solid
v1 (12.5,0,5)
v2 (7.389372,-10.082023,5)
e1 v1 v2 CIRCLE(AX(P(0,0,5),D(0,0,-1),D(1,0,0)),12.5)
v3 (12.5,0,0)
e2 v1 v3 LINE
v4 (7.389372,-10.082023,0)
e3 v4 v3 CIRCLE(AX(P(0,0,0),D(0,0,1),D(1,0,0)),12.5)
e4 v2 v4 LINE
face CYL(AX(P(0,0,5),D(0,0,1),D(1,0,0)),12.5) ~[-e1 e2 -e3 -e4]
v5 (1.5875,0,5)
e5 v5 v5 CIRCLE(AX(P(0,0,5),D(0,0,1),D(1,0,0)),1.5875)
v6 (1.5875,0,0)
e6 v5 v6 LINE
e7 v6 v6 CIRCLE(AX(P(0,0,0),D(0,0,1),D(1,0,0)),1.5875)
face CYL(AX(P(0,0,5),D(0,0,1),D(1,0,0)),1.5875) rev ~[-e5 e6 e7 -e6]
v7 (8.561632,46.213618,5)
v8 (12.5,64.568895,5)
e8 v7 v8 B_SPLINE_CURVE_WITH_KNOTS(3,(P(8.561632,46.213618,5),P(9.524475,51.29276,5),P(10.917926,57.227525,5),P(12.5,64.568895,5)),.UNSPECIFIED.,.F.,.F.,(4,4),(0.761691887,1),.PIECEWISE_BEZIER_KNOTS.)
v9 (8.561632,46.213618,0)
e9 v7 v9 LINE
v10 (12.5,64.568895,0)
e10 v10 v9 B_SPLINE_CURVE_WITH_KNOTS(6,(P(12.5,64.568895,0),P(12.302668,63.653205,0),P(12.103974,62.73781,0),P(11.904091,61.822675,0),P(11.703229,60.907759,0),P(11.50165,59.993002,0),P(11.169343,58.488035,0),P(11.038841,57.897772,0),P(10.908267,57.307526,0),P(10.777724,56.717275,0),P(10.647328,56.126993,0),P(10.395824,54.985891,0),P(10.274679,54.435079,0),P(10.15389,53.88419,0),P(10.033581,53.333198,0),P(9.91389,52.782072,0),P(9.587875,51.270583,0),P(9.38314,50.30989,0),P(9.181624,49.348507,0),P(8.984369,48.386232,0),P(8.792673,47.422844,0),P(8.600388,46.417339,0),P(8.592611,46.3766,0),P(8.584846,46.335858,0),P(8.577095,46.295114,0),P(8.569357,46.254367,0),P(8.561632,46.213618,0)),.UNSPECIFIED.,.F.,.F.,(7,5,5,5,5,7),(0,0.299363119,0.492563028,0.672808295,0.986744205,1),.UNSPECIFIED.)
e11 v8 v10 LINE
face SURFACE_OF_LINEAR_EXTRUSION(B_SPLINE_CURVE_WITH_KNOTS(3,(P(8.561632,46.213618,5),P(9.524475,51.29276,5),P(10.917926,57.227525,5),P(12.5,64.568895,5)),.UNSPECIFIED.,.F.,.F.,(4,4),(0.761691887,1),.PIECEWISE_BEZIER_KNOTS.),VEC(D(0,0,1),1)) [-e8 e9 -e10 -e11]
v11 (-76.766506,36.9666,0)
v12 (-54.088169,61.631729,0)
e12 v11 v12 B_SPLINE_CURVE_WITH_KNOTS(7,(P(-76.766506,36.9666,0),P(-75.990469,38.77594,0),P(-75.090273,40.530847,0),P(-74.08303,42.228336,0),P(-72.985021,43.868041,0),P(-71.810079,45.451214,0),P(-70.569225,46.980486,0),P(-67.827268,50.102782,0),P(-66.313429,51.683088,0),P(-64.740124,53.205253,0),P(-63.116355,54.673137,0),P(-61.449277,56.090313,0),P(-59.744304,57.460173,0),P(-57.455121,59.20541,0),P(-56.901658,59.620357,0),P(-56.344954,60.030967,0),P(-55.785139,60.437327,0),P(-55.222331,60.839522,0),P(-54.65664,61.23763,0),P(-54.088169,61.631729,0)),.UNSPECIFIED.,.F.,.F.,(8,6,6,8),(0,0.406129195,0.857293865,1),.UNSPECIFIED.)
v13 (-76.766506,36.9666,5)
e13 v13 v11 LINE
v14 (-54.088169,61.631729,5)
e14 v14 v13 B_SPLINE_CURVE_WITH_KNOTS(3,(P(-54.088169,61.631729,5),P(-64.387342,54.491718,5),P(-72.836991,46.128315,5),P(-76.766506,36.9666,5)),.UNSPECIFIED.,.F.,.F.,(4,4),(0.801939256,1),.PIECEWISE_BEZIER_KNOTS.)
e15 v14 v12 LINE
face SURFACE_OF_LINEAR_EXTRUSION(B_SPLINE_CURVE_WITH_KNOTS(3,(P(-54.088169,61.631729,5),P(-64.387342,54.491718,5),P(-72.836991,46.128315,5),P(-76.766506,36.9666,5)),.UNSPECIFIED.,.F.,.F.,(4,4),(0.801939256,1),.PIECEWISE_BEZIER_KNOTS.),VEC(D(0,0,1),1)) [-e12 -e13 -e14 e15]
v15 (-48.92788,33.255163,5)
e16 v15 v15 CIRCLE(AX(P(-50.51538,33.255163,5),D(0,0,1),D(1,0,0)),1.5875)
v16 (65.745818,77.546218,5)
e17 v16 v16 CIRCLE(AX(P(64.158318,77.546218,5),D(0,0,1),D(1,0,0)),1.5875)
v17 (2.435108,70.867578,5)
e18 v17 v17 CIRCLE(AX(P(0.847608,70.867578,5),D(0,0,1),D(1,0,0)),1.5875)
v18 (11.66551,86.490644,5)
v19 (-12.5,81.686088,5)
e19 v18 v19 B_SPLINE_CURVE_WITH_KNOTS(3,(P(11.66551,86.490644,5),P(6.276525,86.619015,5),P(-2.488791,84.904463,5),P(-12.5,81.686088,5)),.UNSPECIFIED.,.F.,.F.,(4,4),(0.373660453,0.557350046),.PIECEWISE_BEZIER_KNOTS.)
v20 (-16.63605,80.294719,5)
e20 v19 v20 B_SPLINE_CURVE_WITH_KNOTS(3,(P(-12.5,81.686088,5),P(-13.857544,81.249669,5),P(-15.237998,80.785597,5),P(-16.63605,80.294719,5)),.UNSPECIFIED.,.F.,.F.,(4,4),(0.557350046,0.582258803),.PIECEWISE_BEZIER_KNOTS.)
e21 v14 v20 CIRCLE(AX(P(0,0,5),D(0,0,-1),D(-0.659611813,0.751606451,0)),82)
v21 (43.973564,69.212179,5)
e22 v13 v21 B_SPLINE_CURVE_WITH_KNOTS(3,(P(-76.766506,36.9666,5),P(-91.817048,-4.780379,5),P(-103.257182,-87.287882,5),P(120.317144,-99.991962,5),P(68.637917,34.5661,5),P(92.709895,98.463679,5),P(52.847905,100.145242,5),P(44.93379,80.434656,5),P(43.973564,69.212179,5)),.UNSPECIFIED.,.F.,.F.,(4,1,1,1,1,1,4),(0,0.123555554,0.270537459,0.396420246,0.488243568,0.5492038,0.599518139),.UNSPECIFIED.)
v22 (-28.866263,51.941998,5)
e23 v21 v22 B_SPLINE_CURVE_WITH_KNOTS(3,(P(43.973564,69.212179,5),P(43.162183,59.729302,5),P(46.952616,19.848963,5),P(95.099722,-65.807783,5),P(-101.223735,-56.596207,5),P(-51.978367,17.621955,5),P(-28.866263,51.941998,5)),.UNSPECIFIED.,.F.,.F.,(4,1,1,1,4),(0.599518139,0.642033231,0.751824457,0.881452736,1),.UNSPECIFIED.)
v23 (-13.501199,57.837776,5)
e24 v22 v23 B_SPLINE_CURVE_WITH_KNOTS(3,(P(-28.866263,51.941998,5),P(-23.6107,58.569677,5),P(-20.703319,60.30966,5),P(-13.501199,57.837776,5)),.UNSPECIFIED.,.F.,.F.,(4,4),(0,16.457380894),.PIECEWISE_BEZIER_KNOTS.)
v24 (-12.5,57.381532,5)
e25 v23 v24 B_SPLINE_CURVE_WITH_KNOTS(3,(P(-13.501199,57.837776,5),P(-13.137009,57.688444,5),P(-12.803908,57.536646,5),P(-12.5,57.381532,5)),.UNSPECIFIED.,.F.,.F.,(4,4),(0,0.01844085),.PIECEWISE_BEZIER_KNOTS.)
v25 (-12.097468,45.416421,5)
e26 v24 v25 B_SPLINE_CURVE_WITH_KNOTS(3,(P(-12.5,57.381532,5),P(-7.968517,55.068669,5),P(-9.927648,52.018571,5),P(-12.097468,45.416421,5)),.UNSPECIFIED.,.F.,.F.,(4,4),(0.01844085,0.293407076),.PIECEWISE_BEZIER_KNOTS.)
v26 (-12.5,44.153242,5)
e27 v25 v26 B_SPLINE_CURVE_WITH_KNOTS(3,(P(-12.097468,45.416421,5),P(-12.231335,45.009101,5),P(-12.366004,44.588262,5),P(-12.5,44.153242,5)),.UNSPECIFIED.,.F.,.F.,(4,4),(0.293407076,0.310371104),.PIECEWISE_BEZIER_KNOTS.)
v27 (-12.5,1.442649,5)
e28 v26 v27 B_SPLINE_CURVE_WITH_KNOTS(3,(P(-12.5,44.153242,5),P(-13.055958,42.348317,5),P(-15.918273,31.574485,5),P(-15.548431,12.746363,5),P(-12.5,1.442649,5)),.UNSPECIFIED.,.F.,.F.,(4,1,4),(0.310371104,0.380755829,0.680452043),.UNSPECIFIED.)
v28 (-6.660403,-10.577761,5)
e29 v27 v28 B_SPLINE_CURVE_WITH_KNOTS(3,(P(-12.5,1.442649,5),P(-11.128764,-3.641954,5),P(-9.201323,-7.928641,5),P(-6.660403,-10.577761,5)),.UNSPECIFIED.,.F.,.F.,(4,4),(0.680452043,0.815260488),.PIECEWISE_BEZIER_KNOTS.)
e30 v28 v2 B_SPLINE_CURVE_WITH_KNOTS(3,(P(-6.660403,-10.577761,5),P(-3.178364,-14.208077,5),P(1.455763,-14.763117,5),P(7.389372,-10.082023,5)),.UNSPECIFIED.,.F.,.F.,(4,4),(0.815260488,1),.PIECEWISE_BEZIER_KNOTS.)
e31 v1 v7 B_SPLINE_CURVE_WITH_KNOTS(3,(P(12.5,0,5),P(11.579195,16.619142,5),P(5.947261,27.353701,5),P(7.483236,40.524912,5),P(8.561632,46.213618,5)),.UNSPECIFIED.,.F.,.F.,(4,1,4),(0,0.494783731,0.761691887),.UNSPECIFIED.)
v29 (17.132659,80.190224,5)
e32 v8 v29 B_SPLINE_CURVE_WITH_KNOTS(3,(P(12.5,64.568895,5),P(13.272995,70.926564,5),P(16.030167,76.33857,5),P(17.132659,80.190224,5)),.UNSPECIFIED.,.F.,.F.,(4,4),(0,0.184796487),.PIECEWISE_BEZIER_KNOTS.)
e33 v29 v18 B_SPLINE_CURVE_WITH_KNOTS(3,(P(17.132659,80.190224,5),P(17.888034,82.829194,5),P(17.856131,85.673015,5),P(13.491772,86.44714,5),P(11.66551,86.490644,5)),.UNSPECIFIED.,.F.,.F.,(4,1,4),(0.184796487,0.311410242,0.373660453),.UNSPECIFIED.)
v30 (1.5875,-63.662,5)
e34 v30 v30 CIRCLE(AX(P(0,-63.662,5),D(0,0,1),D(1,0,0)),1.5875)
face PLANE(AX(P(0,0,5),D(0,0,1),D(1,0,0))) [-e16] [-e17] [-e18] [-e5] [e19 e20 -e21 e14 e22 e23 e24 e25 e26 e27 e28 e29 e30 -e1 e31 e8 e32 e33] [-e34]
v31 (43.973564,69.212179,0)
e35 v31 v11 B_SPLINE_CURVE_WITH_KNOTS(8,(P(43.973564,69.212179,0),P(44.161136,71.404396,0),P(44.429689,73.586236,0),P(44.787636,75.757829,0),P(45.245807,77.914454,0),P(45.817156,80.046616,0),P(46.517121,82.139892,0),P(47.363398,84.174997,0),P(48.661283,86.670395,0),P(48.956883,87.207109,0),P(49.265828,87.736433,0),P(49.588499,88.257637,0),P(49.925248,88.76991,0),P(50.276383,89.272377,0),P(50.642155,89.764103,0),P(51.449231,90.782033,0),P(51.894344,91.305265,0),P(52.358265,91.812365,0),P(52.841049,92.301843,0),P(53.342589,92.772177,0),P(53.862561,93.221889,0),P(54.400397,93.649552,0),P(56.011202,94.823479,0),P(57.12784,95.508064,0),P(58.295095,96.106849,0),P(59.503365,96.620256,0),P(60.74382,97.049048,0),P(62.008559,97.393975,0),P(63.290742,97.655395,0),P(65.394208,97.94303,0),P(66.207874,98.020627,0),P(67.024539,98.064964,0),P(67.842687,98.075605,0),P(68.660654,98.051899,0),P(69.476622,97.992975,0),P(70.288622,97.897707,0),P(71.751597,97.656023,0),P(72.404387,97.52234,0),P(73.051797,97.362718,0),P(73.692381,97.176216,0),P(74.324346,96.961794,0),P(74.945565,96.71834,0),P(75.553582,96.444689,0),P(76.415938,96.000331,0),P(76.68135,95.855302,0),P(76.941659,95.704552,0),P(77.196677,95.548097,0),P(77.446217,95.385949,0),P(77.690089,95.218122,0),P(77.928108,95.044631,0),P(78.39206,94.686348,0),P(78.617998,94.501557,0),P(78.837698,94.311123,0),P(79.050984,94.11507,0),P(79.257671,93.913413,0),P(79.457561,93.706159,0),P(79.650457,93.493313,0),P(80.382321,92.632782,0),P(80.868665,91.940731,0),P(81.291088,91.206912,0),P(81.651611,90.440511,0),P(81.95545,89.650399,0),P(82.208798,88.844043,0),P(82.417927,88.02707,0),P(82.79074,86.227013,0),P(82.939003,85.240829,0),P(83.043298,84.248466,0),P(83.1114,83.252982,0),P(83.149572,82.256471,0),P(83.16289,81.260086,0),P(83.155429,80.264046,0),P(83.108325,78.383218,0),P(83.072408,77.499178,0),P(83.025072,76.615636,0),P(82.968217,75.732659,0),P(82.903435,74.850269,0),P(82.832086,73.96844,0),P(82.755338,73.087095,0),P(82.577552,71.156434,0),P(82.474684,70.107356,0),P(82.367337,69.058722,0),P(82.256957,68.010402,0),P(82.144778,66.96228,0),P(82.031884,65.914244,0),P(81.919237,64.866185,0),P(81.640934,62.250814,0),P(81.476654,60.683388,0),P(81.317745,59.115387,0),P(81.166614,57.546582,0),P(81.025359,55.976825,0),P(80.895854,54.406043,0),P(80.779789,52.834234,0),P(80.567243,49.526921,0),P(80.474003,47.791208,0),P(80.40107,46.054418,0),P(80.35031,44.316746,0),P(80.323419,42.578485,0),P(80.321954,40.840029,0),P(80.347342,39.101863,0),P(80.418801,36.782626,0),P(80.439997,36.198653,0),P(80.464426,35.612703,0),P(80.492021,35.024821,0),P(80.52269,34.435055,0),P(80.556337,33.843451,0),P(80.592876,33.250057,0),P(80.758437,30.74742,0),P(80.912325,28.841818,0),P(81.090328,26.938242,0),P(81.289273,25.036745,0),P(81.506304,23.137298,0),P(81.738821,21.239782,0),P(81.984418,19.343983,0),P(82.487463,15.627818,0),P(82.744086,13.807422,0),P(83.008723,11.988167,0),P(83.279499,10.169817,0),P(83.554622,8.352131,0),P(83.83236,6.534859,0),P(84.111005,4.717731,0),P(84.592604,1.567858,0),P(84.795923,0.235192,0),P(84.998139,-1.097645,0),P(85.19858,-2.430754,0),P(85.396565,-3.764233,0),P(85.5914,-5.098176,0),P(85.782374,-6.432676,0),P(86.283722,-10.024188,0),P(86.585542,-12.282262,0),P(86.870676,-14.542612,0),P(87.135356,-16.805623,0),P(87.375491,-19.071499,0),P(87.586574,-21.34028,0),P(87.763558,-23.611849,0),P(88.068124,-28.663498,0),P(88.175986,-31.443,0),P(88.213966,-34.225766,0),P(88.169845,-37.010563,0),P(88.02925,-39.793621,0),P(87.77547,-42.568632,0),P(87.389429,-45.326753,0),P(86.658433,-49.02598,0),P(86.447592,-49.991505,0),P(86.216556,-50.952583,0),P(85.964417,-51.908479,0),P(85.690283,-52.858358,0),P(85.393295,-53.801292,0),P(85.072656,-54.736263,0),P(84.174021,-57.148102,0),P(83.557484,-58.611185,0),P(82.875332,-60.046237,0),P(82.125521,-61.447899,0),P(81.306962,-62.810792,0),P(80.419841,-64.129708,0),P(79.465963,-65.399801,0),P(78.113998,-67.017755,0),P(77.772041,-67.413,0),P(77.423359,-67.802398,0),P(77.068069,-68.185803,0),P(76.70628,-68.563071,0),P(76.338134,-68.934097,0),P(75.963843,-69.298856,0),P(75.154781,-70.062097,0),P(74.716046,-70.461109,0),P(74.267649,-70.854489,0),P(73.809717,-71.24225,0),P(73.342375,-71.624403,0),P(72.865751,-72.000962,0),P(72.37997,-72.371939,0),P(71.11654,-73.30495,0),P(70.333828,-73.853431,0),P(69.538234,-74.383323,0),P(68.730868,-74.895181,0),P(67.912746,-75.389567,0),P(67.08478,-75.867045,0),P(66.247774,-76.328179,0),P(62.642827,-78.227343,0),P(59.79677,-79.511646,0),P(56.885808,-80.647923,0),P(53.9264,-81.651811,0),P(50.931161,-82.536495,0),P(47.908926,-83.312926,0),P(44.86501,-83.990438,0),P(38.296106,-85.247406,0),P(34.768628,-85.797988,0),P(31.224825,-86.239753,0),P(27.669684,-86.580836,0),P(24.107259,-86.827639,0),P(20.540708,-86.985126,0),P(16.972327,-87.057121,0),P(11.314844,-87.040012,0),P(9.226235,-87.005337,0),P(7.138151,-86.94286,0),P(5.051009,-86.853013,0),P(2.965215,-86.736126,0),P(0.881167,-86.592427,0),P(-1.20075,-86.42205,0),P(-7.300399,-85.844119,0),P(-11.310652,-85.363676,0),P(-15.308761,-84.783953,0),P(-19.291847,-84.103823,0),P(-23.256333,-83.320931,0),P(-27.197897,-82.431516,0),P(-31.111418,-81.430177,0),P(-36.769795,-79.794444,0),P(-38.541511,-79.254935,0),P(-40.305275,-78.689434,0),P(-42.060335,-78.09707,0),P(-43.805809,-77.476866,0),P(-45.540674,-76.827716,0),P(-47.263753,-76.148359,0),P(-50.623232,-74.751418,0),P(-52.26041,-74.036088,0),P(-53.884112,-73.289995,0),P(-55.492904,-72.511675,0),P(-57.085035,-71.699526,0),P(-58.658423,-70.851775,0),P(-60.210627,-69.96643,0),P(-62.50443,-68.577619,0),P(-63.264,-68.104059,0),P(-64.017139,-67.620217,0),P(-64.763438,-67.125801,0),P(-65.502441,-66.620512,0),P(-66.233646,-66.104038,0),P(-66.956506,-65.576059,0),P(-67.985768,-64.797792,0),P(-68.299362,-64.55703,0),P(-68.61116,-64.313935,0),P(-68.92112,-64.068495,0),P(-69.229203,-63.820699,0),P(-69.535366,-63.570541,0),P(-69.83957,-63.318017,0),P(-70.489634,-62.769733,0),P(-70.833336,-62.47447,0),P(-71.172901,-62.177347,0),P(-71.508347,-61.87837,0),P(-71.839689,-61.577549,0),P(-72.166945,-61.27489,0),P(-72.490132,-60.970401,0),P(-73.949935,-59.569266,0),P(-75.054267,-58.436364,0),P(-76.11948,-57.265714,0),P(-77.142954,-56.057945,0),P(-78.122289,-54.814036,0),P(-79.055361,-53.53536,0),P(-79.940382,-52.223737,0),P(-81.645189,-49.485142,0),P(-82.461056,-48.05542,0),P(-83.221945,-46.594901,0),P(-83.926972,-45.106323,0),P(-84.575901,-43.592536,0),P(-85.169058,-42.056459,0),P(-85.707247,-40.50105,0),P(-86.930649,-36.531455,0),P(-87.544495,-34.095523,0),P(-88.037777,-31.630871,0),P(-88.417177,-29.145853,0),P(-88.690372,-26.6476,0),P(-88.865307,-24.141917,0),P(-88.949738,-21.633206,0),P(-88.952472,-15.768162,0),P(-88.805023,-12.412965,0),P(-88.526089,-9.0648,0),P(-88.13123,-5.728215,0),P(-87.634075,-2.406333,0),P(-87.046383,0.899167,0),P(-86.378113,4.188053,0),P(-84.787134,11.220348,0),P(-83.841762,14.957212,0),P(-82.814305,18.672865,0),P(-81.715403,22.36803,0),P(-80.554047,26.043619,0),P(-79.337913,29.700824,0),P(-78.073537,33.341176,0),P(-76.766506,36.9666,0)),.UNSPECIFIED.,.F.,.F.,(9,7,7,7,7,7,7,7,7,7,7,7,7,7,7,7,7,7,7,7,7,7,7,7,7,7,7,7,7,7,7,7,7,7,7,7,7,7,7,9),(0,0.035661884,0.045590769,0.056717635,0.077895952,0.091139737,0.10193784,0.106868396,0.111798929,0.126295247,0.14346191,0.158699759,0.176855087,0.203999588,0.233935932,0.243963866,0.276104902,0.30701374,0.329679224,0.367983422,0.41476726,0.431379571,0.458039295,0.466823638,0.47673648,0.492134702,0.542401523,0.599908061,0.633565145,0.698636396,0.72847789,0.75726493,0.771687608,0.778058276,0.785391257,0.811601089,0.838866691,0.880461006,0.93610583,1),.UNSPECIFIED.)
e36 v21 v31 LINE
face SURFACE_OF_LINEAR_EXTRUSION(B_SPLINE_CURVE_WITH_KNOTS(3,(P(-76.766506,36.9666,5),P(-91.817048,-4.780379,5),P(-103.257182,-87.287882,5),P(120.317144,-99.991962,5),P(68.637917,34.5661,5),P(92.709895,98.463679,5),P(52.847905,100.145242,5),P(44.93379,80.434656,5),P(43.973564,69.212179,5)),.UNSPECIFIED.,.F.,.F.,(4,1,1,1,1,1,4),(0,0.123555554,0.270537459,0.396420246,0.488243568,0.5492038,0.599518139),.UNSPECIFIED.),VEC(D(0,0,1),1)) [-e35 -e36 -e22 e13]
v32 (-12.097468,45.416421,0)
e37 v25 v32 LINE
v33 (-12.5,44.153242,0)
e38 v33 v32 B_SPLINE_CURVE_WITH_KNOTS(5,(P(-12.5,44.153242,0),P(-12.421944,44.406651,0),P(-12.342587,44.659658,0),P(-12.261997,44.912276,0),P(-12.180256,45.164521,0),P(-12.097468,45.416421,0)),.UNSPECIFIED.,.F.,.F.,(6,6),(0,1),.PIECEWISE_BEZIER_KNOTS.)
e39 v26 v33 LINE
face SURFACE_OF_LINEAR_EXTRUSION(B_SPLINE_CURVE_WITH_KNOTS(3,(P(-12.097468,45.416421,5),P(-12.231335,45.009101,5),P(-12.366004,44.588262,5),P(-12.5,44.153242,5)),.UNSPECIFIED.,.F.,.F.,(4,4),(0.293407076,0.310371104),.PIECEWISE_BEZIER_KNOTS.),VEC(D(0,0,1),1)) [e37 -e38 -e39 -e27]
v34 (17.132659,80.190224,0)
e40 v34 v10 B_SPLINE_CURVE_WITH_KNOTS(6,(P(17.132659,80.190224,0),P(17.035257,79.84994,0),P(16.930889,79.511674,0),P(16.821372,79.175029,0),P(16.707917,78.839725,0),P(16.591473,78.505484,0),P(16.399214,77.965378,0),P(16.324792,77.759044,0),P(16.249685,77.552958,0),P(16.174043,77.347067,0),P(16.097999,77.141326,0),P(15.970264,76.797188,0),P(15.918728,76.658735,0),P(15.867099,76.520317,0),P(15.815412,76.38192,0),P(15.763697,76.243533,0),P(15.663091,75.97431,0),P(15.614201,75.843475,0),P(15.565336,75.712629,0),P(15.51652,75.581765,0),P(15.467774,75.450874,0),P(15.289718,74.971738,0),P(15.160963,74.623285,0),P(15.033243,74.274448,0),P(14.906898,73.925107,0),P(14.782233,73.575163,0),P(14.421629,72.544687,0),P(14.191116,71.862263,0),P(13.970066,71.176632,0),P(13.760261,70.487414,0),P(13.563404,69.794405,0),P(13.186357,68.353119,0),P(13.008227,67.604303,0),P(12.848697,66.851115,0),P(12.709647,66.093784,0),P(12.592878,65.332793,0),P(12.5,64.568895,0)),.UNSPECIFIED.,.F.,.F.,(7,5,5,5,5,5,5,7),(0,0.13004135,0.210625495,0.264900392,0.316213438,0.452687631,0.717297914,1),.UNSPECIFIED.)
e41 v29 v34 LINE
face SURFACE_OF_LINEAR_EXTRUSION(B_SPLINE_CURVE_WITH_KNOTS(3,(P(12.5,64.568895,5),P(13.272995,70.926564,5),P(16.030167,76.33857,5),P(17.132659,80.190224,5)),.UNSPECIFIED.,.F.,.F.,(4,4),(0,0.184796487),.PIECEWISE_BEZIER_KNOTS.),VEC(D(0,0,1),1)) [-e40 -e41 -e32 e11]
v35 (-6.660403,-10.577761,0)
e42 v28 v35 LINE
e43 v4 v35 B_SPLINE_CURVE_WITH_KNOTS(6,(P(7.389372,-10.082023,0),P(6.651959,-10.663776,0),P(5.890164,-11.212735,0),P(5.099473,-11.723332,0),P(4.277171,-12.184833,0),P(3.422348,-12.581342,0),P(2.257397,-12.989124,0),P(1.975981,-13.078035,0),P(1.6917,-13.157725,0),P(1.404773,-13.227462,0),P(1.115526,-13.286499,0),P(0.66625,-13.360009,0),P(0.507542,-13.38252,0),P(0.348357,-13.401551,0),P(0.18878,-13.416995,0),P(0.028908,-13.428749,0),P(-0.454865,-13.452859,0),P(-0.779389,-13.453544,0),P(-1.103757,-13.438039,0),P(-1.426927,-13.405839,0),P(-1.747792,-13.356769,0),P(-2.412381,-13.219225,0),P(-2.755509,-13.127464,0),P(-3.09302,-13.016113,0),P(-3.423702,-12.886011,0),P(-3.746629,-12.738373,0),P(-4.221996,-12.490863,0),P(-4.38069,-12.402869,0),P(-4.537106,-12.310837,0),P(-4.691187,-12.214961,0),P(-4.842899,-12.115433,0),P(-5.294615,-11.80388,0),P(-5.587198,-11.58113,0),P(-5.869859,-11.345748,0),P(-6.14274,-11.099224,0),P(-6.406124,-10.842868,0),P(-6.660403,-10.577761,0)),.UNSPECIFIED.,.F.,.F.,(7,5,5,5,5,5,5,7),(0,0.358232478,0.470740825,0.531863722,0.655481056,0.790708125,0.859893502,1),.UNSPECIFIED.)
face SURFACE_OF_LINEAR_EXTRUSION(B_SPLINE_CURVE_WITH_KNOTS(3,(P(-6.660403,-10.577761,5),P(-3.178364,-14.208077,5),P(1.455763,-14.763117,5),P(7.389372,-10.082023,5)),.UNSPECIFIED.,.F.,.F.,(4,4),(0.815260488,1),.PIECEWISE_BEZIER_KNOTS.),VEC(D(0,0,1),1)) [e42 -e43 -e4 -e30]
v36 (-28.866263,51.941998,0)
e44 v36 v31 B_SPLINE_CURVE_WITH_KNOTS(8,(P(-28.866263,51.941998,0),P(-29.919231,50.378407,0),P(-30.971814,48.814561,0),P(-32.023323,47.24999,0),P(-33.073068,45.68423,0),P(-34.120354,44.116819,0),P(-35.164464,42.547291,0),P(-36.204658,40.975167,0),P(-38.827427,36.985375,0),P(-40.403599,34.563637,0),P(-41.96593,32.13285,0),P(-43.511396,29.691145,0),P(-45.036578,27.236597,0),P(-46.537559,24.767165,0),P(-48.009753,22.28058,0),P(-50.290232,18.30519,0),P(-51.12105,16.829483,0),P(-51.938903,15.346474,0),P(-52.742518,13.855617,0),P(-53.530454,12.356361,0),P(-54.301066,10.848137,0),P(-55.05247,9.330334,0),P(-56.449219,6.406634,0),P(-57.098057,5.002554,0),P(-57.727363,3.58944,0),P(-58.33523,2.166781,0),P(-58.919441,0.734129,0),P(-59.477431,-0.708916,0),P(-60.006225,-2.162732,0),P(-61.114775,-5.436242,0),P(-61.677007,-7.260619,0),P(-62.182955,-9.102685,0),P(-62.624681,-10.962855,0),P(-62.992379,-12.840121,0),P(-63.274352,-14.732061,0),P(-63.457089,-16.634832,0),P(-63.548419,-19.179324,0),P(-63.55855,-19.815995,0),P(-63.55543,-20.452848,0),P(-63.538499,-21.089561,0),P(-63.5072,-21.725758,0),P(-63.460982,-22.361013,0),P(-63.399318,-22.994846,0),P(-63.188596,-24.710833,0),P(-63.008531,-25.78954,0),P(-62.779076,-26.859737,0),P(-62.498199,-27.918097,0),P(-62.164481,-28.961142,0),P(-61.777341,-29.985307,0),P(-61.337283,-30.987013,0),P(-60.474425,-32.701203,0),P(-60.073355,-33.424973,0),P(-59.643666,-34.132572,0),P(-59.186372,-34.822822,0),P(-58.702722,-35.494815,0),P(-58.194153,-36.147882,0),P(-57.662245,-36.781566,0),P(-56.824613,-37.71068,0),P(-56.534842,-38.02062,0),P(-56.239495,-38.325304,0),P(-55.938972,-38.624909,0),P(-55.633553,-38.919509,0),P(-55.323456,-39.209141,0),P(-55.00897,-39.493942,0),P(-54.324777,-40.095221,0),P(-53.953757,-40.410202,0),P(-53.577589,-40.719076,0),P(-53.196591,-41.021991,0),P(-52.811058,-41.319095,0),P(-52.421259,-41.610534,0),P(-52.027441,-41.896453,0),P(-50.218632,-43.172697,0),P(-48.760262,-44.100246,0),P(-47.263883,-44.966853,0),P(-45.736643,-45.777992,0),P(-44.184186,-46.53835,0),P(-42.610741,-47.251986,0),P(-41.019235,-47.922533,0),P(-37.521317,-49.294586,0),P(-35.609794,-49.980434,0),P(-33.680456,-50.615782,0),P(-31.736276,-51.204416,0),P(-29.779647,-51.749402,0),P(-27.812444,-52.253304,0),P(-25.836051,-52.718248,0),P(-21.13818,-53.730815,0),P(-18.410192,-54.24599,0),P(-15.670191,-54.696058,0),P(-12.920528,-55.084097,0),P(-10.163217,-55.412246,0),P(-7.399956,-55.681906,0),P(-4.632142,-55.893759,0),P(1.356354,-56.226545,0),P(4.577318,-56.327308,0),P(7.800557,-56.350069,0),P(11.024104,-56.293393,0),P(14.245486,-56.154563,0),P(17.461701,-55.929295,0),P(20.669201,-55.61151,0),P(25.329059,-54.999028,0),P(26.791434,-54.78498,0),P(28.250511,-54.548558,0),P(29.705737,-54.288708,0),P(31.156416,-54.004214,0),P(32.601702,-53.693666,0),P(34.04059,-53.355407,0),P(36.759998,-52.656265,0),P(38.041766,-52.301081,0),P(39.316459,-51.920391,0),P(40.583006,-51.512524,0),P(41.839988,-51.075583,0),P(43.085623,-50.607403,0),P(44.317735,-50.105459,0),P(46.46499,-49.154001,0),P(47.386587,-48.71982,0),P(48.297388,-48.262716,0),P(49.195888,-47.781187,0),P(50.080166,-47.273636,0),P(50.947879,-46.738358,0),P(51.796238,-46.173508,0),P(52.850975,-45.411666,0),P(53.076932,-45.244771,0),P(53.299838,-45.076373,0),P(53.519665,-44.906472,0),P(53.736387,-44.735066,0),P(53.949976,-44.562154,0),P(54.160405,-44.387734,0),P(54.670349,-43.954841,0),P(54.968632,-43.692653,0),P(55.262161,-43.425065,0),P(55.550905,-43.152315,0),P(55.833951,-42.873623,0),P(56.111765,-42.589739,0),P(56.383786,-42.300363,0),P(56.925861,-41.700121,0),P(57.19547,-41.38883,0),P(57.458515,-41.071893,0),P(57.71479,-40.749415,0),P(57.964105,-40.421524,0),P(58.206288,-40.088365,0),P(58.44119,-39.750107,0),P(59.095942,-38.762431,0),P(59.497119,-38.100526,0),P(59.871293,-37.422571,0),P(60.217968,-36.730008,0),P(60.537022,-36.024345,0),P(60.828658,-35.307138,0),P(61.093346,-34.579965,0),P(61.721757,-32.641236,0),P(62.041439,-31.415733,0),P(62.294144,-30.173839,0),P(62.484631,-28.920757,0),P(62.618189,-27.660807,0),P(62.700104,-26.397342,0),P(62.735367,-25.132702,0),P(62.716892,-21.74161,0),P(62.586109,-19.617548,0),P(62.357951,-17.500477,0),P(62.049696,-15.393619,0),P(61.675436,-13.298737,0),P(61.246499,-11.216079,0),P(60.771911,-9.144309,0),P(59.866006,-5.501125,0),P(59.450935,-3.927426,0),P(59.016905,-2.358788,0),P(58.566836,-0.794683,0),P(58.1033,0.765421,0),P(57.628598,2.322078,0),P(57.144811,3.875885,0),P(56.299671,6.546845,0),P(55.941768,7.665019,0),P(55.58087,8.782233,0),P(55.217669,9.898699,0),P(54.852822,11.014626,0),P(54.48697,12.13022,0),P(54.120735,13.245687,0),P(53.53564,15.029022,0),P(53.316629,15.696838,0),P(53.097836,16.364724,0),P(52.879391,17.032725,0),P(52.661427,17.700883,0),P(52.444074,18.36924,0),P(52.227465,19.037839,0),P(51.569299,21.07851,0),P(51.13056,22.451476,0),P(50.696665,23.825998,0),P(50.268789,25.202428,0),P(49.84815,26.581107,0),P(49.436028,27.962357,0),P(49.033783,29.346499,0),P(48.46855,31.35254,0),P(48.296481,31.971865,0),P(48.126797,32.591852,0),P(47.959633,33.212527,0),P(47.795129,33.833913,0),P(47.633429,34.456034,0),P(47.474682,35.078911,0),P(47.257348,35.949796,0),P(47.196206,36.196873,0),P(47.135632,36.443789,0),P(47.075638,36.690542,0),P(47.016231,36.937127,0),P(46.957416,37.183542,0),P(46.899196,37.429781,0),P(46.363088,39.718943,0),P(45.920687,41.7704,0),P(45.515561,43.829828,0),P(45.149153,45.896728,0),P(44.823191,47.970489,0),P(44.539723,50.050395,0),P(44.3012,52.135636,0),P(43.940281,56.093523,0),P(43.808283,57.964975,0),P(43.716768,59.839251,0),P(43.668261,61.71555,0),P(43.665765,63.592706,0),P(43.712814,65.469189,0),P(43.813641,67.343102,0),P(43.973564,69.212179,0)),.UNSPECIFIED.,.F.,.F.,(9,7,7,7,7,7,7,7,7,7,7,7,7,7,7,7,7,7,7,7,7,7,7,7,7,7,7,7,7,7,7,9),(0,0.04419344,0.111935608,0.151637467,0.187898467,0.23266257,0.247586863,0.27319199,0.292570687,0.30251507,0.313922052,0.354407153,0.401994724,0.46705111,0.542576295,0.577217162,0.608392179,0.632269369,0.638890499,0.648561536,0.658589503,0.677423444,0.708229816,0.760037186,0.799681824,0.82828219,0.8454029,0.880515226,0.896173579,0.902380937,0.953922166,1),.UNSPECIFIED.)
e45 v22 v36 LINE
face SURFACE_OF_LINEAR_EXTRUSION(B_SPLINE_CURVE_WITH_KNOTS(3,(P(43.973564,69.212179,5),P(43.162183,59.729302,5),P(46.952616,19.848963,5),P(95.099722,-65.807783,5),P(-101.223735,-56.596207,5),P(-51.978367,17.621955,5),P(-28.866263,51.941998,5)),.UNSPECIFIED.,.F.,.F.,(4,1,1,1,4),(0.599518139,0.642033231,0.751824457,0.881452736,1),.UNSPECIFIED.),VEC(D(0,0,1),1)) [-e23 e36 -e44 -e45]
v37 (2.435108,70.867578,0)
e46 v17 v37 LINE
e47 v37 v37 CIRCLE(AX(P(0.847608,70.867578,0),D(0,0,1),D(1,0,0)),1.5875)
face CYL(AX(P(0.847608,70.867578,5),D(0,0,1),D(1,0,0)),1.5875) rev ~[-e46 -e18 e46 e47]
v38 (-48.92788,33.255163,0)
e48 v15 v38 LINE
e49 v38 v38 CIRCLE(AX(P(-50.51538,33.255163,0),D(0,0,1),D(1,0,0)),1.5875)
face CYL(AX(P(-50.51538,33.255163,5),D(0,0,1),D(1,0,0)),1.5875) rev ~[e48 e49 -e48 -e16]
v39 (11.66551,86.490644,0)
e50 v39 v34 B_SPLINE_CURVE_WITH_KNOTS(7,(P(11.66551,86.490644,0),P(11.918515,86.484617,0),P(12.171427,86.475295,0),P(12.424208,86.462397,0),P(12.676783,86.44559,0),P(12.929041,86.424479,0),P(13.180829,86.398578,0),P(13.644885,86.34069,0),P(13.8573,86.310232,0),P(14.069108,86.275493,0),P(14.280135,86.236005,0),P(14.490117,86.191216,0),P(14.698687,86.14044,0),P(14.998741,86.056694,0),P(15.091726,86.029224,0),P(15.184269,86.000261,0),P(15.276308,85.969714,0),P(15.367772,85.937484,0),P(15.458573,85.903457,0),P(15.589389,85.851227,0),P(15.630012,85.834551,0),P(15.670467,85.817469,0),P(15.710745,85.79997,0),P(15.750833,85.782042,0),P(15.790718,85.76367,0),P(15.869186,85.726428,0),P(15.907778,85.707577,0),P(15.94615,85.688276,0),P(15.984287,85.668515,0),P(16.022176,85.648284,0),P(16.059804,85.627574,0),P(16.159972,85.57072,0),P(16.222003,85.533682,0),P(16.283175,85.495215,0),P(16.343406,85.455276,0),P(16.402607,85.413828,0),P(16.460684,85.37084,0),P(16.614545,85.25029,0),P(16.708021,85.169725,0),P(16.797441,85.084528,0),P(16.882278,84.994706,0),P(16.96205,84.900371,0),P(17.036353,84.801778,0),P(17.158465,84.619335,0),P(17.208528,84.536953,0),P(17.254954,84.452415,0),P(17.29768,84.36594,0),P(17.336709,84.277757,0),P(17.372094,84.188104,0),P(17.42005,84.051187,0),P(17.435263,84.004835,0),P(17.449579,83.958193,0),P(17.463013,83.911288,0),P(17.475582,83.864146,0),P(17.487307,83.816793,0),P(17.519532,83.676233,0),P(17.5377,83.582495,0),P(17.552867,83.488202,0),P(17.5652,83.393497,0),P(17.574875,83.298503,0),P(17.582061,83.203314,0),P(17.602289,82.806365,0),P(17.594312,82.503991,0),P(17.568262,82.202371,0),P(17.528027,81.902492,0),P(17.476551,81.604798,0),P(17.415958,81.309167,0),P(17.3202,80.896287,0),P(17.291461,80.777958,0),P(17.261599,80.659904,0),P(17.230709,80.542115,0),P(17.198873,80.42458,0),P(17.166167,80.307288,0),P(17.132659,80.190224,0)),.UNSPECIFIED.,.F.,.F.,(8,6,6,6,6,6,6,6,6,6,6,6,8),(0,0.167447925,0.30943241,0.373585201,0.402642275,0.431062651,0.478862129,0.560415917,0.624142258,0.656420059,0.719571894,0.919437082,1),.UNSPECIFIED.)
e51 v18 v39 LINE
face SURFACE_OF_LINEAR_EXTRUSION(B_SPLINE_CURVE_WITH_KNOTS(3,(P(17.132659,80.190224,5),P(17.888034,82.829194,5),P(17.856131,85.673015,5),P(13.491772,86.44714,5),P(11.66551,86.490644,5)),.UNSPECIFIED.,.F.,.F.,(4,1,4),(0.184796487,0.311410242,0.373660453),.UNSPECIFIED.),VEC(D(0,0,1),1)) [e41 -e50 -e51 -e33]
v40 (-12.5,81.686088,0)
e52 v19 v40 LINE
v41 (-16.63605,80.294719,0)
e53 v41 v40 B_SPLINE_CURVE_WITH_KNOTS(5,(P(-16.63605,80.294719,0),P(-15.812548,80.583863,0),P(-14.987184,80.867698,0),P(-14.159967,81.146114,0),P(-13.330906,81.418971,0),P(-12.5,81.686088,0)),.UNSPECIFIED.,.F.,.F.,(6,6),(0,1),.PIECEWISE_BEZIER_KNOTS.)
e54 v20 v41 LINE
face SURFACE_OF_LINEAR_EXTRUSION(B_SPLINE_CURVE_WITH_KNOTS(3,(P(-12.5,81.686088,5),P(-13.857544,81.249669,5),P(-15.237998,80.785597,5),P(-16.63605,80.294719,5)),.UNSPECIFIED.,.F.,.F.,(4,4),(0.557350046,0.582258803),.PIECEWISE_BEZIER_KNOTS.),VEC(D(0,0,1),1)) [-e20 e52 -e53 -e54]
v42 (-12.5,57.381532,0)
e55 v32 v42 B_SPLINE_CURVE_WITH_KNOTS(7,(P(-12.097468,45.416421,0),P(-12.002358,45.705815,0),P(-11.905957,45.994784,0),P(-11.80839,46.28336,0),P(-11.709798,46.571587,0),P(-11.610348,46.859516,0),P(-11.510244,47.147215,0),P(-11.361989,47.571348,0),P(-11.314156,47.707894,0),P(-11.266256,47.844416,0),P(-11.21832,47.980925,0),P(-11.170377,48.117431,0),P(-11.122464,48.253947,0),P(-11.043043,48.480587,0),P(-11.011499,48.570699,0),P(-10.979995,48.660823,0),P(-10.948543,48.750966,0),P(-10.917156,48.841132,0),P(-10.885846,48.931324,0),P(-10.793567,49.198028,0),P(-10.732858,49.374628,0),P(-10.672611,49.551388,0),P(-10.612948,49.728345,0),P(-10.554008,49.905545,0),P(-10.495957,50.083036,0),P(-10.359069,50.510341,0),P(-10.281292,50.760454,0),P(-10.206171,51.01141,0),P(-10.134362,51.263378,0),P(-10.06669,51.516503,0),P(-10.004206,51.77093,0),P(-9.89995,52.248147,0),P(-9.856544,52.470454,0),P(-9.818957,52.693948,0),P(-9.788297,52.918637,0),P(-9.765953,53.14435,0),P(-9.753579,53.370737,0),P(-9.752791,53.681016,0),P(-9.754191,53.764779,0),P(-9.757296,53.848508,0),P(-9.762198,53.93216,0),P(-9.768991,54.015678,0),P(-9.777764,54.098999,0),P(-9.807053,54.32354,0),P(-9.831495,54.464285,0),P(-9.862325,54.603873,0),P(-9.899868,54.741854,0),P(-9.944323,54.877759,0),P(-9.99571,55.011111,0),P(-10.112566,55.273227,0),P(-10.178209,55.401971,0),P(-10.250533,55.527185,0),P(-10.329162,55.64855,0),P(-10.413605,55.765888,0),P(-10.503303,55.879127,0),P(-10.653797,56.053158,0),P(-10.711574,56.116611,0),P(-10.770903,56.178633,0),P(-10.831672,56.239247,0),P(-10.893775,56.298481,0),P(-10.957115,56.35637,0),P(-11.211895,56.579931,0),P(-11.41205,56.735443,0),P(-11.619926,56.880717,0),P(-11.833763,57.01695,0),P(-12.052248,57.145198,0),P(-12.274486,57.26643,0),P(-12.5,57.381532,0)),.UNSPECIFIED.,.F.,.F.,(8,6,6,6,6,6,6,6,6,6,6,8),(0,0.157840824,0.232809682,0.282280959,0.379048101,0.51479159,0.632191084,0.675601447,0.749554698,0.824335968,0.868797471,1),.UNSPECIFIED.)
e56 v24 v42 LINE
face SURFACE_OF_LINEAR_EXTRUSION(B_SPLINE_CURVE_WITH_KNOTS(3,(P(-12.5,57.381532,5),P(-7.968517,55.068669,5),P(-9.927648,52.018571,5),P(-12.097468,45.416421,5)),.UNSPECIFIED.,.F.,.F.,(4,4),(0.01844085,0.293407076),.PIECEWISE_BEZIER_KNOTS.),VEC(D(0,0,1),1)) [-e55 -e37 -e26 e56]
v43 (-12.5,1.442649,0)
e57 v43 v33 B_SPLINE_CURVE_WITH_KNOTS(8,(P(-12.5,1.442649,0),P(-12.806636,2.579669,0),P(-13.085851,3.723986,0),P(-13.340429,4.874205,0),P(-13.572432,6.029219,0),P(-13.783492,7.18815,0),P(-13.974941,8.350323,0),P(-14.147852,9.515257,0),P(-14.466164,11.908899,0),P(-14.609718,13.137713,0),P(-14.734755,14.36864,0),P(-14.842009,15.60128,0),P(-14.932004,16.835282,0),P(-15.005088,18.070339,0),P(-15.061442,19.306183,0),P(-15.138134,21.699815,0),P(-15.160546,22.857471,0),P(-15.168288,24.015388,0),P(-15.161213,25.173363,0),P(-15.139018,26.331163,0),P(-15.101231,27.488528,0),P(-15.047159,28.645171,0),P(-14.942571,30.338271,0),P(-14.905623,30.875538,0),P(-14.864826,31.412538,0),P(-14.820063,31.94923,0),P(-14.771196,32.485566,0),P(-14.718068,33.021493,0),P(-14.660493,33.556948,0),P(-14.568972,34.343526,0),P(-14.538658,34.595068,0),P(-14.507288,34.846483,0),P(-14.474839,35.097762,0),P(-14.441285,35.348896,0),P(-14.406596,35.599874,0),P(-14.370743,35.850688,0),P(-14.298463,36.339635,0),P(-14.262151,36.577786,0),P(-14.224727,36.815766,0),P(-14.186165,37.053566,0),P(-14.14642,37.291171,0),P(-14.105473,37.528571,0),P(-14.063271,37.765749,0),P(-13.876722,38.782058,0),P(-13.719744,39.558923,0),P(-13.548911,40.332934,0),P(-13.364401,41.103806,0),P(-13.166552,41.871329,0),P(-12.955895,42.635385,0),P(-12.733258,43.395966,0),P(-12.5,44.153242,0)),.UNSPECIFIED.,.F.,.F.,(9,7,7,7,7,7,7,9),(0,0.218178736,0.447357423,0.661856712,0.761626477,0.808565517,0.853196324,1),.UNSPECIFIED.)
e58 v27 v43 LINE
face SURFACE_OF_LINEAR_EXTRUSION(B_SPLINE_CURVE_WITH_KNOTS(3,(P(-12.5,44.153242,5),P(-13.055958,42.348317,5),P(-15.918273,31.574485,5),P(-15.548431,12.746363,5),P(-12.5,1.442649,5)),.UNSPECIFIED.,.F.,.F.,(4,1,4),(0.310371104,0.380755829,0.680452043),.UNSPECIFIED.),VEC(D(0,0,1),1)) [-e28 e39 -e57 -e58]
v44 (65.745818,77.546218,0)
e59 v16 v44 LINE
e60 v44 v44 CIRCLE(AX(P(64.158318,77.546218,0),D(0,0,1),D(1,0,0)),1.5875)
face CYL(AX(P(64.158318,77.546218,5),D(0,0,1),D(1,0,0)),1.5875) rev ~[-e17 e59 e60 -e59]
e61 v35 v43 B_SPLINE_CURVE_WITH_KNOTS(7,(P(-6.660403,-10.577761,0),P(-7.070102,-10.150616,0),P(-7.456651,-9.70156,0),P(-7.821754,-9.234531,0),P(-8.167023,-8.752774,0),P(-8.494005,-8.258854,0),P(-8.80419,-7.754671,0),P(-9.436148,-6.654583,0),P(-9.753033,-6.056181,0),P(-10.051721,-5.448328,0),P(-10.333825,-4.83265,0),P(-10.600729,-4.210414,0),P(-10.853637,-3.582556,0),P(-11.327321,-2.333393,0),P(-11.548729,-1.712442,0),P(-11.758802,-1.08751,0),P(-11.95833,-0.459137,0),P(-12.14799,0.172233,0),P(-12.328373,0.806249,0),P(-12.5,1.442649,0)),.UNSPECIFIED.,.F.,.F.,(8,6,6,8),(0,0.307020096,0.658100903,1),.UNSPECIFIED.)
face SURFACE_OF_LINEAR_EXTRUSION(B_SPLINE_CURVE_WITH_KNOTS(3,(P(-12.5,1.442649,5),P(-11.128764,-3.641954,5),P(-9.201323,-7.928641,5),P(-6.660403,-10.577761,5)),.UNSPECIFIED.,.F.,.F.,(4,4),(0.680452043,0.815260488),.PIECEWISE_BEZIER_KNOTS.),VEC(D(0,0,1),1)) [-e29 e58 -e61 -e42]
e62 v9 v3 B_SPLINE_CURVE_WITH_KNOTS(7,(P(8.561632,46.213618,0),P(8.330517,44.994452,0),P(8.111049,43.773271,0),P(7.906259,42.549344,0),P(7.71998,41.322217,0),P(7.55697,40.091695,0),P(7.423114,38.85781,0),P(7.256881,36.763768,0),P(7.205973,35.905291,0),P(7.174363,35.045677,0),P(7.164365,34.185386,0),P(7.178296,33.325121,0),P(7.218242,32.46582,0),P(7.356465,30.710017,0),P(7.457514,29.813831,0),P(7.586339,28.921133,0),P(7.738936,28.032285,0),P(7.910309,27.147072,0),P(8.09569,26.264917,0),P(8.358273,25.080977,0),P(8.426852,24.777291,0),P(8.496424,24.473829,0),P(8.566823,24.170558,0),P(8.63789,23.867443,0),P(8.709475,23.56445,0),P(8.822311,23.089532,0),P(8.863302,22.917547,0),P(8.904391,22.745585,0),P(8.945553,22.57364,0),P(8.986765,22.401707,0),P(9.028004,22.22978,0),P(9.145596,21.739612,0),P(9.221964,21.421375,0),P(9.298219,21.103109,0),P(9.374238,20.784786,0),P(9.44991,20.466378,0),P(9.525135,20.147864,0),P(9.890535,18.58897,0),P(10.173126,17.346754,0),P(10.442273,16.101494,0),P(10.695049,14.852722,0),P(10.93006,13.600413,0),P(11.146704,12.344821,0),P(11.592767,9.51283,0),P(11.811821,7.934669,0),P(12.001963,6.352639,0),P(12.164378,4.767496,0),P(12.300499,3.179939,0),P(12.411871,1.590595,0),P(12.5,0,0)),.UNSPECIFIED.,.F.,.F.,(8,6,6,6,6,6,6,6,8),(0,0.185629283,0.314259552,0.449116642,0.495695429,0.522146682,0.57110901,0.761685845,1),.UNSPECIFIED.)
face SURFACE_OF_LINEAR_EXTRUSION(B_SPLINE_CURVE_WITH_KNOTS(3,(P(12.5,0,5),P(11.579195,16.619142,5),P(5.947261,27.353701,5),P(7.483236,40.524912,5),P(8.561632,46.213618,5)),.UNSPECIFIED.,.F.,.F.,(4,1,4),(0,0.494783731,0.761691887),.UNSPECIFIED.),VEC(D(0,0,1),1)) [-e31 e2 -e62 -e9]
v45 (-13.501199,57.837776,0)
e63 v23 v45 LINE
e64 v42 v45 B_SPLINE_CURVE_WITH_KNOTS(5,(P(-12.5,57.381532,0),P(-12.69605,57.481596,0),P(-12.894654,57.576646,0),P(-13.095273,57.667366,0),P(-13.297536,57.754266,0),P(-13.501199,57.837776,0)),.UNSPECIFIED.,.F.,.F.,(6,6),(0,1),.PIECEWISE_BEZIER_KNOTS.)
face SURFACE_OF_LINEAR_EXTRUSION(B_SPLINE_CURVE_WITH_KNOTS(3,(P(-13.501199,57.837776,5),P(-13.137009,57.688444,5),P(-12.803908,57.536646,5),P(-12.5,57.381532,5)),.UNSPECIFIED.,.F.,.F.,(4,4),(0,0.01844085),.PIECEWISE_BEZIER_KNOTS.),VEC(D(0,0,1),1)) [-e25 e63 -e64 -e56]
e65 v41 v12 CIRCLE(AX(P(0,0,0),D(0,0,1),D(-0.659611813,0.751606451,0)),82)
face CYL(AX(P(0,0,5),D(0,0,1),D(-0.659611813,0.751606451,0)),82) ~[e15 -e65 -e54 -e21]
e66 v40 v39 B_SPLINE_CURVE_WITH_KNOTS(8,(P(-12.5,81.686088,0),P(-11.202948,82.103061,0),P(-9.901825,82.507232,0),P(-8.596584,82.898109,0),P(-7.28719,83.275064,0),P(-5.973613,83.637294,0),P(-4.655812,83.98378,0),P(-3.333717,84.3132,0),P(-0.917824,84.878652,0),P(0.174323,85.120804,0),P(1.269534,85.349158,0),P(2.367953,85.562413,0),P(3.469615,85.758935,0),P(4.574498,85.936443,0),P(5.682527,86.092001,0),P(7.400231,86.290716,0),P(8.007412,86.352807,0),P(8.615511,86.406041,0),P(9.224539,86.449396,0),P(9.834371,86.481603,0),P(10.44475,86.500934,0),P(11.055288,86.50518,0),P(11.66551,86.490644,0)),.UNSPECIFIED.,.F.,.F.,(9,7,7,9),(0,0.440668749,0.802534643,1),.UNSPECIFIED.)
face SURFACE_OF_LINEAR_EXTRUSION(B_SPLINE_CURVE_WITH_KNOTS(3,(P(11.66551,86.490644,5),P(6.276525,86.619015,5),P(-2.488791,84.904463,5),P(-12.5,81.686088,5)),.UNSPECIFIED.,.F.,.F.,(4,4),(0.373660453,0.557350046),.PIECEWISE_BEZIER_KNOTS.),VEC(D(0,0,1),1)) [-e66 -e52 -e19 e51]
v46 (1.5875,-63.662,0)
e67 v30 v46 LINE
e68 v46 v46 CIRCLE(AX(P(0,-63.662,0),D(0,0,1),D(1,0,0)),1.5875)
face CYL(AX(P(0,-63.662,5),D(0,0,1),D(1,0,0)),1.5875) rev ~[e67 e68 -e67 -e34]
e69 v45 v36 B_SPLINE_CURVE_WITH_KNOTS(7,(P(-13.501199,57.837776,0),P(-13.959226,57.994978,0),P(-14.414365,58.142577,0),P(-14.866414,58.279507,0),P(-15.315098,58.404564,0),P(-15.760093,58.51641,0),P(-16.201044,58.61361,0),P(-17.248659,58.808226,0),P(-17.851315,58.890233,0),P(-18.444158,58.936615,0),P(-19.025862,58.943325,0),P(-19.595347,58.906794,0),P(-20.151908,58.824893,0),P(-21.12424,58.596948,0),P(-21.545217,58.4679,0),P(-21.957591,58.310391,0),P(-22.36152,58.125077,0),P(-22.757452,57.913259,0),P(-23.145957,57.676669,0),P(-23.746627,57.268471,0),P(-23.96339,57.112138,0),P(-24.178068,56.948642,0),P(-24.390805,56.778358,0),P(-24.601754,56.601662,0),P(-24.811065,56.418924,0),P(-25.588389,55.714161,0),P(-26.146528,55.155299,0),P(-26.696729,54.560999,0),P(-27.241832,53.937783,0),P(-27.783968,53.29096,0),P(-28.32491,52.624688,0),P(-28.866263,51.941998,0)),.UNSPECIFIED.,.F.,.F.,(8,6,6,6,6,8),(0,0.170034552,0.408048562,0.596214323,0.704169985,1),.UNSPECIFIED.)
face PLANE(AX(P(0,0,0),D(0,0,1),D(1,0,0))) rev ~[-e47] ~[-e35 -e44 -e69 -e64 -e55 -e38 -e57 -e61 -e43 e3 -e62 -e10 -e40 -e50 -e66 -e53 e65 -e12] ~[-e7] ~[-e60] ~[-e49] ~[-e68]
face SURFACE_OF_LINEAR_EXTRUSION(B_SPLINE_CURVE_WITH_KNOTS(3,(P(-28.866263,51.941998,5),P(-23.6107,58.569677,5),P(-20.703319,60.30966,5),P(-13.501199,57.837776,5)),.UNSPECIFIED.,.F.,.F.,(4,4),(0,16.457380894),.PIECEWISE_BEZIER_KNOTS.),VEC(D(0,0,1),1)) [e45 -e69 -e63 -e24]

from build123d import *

# Parameters (mm, degrees)
F0_W     = 200
F0_H     = 200
F1_DEPTH = 5
F2_R     = 1.5875
F3_DEPTH = 5.001
F4_W     = 200
F4_H     = 200
F5_DEPTH = 5.001


with BuildPart() as f1:
    # F0 (on Top) → F1 (new body)
    with BuildSketch(Plane.XY):
        Rectangle(F0_W, F0_H)
    extrude(amount=F1_DEPTH)

    # F2 (on face) → F3 (cut, through all)
    with BuildSketch(Plane.XY.offset(5)):
        Circle(F2_R)
        with Locations((0, -63.662)):
            Circle(F2_R)
        with Locations((64.1583176089, 77.5462182691)):
            Circle(F2_R)
        with Locations((-50.5153796805, 33.2551628583)):
            Circle(F2_R)
        with Locations((0.8476075271, 70.8675782169)):
            Circle(F2_R)
    extrude(amount=-F3_DEPTH, mode=Mode.SUBTRACT)

    # F4 (on face) → F5 (cut, through all)
    with BuildSketch(Plane.XY.offset(5)):
        Rectangle(F4_W, F4_H)
        with BuildLine():
            ThreePointArc((17.1326590626, 80.1902238022), (31.0422614354, 75.8971541296), (43.9735640518, 69.2121785857))
            add(Edge.make_bspline(
                [(-76.7665058374, 36.966599524), (-91.817047856, -4.7803792813), (-103.2571823893, -87.2878823857), (120.3171441829, -99.9919617242), (68.637917418, 34.5660997036), (92.709894501, 98.4636787333), (52.8479045734, 100.1452424481), (44.9337900878, 80.4346559112), (43.9735640518, 69.2121785857)],
                knots=[0, 0, 0, 0, 0.1235555538, 0.2705374594, 0.396420246, 0.488243568, 0.5492038003, 0.5995181391, 0.5995181391, 0.5995181391, 0.5995181391], degree=3))
            add(Edge.make_bspline(
                [(-54.088168637, 61.631728951), (-64.3873416214, 54.4917179785), (-72.8369907543, 46.128314622), (-76.7665058374, 36.966599524)],
                knots=[0.8019392559, 0.8019392559, 0.8019392559, 0.8019392559, 1, 1, 1, 1], degree=3))
            ThreePointArc((-54.088168637, 61.631728951), (-36.5726066275, 73.3924004545), (-16.6360495244, 80.2947187318))
            add(Edge.make_bspline(
                [(-12.5, 81.6860883728), (-13.857544387, 81.2496689605), (-15.237998283, 80.7855972347), (-16.6360495244, 80.2947187318)],
                knots=[0.5573500458, 0.5573500458, 0.5573500458, 0.5573500458, 0.5822588029, 0.5822588029, 0.5822588029, 0.5822588029], degree=3))
            Line((-12.5, 81.6860883728), (-12.5, 82))
            ThreePointArc((-12.5, 82), (-2.283760771, 94.2896068587), (11.6655098785, 86.4906435257))
            add(Edge.make_bspline(
                [(17.1326590626, 80.1902238022), (17.8880340297, 82.8291936824), (17.8561307084, 85.6730147962), (13.4917724717, 86.447139991), (11.6655098785, 86.4906435257)],
                knots=[0.1847964872, 0.1847964872, 0.1847964872, 0.1847964872, 0.3114102425, 0.3736604526, 0.3736604526, 0.3736604526, 0.3736604526], degree=3))
        make_face(mode=Mode.SUBTRACT)
        with BuildLine():
            add(Edge.make_bspline(
                [(43.9735640518, 69.2121785857), (43.1621830612, 59.7293022328), (46.9526163505, 19.8489628575), (95.0997223941, -65.807782974), (-101.2237345857, -56.5962072954), (-51.9783670927, 17.6219545236), (-28.8662631065, 51.9419983029)],
                knots=[0.5995181391, 0.5995181391, 0.5995181391, 0.5995181391, 0.6420332308, 0.7518244571, 0.8814527359, 1, 1, 1, 1], degree=3))
            ThreePointArc((43.9735640518, 69.2121785857), (31.0422614354, 75.8971541296), (17.1326590626, 80.1902238022))
            add(Edge.make_bspline(
                [(12.5, 64.5688953585), (13.2729949877, 70.9265640556), (16.0301671563, 76.3385699075), (17.1326590626, 80.1902238022)],
                knots=[0, 0, 0, 0, 0.1847964872, 0.1847964872, 0.1847964872, 0.1847964872], degree=3))
            Line((12.5, 64.5688953585), (12.5, 45.3072841826))
            ThreePointArc((12.5, 45.3072841826), (37.3931811966, 28.4736720498), (47, 0))
            ThreePointArc((47, 0), (-28.4736720498, -37.3931811966), (-12.5, 45.3072841826))
            Line((-12.5, 45.3072841826), (-12.5, 57.3815318916))
            add(Edge.make_bspline(
                [(-13.5011989624, 57.8377755841), (-13.1370093929, 57.6884442546), (-12.8039078539, 57.5366460544), (-12.5, 57.3815318916)],
                knots=[0, 0, 0, 0, 0.0184408503, 0.0184408503, 0.0184408503, 0.0184408503], degree=3))
            add(Edge.make_bspline(
                [(-28.8662631065, 51.9419983029), (-23.6106999218, 58.5696771741), (-20.7033194602, 60.3096596897), (-13.5011989624, 57.8377755841)],
                knots=[0, 0, 0, 0, 16.4573808944, 16.4573808944, 16.4573808944, 16.4573808944], degree=3))
        make_face()
        with BuildLine():
            ThreePointArc((47, 0), (37.3931811966, 28.4736720498), (12.5, 45.3072841826))
            Line((12.5, 45.3072841826), (12.5, 0))
            ThreePointArc((12.5, 0), (11.1493754852, -5.6516746447), (7.3893717936, -10.0820228375))
            add(Edge.make_bspline(
                [(-6.6604031037, -10.5777611287), (-3.1783635622, -14.2080769819), (1.4557627121, -14.763116514), (7.3893717936, -10.0820228375)],
                knots=[0.815260488, 0.815260488, 0.815260488, 0.815260488, 1, 1, 1, 1], degree=3))
            ThreePointArc((-6.6604031037, -10.5777611287), (-10.9431494277, -6.0413144763), (-12.5, 0))
            Line((-12.5, 0), (-12.5, 1.4426485112))
            add(Edge.make_bspline(
                [(-12.5, 44.1532415898), (-13.0559576451, 42.3483169271), (-15.9182734162, 31.5744849632), (-15.5484307025, 12.7463633664), (-12.5, 1.4426485112)],
                knots=[0.3103711041, 0.3103711041, 0.3103711041, 0.3103711041, 0.3807558286, 0.6804520435, 0.6804520435, 0.6804520435, 0.6804520435], degree=3))
            Line((-12.5, 44.1532415898), (-12.5, 45.3072841826))
            ThreePointArc((-12.5, 45.3072841826), (-28.4736720498, -37.3931811966), (47, 0))
        make_face()
        with BuildLine():
            Line((12.5, 0), (12.5, 45.3072841826))
            ThreePointArc((12.5, 45.3072841826), (10.5405620251, 45.8028007025), (8.5616321995, 46.213617626))
            add(Edge.make_bspline(
                [(12.5, 0), (11.5791953111, 16.6191422507), (5.9472612592, 27.3537009302), (7.4832360771, 40.5249124034), (8.5616321995, 46.213617626)],
                knots=[0, 0, 0, 0, 0.4947837305, 0.7616918871, 0.7616918871, 0.7616918871, 0.7616918871], degree=3))
        make_face()
        with BuildLine():
            ThreePointArc((-12.5, 0), (-10.9431494277, -6.0413144763), (-6.6604031037, -10.5777611287))
            add(Edge.make_bspline(
                [(-12.5, 1.4426485112), (-11.1287641269, -3.6419542966), (-9.2013231754, -7.9286406038), (-6.6604031037, -10.5777611287)],
                knots=[0.6804520435, 0.6804520435, 0.6804520435, 0.6804520435, 0.815260488, 0.815260488, 0.815260488, 0.815260488], degree=3))
            Line((-12.5, 1.4426485112), (-12.5, 0))
        make_face()
        with BuildLine():
            add(Edge.make_bspline(
                [(11.6655098785, 86.4906435257), (6.2765251305, 86.6190149251), (-2.4887908972, 84.9044626929), (-12.5, 81.6860883728)],
                knots=[0.3736604526, 0.3736604526, 0.3736604526, 0.3736604526, 0.5573500458, 0.5573500458, 0.5573500458, 0.5573500458], degree=3))
            ThreePointArc((11.6655098785, 86.4906435257), (-2.283760771, 94.2896068587), (-12.5, 82))
            Line((-12.5, 82), (-12.5, 81.6860883728))
        make_face()
        with BuildLine():
            Line((12.5, 45.3072841826), (12.5, 64.5688953585))
            add(Edge.make_bspline(
                [(8.5616321995, 46.213617626), (9.5244748048, 51.2927602926), (10.9179259031, 57.2275250058), (12.5, 64.5688953585)],
                knots=[0.7616918871, 0.7616918871, 0.7616918871, 0.7616918871, 1, 1, 1, 1], degree=3))
            ThreePointArc((8.5616321995, 46.213617626), (10.5405620251, 45.8028007025), (12.5, 45.3072841826))
        make_face()
        with BuildLine():
            add(Edge.make_bspline(
                [(-12.5, 57.3815318916), (-7.9685172108, 55.0686691279), (-9.9276478243, 52.0185705278), (-12.097468025, 45.41642068)],
                knots=[0.0184408503, 0.0184408503, 0.0184408503, 0.0184408503, 0.2934070764, 0.2934070764, 0.2934070764, 0.2934070764], degree=3))
            Line((-12.5, 57.3815318916), (-12.5, 45.3072841826))
            ThreePointArc((-12.5, 45.3072841826), (-12.2988550688, 45.3622989276), (-12.097468025, 45.41642068))
        make_face()
        with BuildLine():
            ThreePointArc((-12.097468025, 45.41642068), (-12.2988550688, 45.3622989276), (-12.5, 45.3072841826))
            Line((-12.5, 45.3072841826), (-12.5, 44.1532415898))
            add(Edge.make_bspline(
                [(-12.097468025, 45.41642068), (-12.2313349754, 45.0091013705), (-12.3660038665, 44.5882620057), (-12.5, 44.1532415898)],
                knots=[0.2934070764, 0.2934070764, 0.2934070764, 0.2934070764, 0.3103711041, 0.3103711041, 0.3103711041, 0.3103711041], degree=3))
        make_face()
    extrude(amount=-F5_DEPTH, mode=Mode.SUBTRACT)


solid = f1.part
